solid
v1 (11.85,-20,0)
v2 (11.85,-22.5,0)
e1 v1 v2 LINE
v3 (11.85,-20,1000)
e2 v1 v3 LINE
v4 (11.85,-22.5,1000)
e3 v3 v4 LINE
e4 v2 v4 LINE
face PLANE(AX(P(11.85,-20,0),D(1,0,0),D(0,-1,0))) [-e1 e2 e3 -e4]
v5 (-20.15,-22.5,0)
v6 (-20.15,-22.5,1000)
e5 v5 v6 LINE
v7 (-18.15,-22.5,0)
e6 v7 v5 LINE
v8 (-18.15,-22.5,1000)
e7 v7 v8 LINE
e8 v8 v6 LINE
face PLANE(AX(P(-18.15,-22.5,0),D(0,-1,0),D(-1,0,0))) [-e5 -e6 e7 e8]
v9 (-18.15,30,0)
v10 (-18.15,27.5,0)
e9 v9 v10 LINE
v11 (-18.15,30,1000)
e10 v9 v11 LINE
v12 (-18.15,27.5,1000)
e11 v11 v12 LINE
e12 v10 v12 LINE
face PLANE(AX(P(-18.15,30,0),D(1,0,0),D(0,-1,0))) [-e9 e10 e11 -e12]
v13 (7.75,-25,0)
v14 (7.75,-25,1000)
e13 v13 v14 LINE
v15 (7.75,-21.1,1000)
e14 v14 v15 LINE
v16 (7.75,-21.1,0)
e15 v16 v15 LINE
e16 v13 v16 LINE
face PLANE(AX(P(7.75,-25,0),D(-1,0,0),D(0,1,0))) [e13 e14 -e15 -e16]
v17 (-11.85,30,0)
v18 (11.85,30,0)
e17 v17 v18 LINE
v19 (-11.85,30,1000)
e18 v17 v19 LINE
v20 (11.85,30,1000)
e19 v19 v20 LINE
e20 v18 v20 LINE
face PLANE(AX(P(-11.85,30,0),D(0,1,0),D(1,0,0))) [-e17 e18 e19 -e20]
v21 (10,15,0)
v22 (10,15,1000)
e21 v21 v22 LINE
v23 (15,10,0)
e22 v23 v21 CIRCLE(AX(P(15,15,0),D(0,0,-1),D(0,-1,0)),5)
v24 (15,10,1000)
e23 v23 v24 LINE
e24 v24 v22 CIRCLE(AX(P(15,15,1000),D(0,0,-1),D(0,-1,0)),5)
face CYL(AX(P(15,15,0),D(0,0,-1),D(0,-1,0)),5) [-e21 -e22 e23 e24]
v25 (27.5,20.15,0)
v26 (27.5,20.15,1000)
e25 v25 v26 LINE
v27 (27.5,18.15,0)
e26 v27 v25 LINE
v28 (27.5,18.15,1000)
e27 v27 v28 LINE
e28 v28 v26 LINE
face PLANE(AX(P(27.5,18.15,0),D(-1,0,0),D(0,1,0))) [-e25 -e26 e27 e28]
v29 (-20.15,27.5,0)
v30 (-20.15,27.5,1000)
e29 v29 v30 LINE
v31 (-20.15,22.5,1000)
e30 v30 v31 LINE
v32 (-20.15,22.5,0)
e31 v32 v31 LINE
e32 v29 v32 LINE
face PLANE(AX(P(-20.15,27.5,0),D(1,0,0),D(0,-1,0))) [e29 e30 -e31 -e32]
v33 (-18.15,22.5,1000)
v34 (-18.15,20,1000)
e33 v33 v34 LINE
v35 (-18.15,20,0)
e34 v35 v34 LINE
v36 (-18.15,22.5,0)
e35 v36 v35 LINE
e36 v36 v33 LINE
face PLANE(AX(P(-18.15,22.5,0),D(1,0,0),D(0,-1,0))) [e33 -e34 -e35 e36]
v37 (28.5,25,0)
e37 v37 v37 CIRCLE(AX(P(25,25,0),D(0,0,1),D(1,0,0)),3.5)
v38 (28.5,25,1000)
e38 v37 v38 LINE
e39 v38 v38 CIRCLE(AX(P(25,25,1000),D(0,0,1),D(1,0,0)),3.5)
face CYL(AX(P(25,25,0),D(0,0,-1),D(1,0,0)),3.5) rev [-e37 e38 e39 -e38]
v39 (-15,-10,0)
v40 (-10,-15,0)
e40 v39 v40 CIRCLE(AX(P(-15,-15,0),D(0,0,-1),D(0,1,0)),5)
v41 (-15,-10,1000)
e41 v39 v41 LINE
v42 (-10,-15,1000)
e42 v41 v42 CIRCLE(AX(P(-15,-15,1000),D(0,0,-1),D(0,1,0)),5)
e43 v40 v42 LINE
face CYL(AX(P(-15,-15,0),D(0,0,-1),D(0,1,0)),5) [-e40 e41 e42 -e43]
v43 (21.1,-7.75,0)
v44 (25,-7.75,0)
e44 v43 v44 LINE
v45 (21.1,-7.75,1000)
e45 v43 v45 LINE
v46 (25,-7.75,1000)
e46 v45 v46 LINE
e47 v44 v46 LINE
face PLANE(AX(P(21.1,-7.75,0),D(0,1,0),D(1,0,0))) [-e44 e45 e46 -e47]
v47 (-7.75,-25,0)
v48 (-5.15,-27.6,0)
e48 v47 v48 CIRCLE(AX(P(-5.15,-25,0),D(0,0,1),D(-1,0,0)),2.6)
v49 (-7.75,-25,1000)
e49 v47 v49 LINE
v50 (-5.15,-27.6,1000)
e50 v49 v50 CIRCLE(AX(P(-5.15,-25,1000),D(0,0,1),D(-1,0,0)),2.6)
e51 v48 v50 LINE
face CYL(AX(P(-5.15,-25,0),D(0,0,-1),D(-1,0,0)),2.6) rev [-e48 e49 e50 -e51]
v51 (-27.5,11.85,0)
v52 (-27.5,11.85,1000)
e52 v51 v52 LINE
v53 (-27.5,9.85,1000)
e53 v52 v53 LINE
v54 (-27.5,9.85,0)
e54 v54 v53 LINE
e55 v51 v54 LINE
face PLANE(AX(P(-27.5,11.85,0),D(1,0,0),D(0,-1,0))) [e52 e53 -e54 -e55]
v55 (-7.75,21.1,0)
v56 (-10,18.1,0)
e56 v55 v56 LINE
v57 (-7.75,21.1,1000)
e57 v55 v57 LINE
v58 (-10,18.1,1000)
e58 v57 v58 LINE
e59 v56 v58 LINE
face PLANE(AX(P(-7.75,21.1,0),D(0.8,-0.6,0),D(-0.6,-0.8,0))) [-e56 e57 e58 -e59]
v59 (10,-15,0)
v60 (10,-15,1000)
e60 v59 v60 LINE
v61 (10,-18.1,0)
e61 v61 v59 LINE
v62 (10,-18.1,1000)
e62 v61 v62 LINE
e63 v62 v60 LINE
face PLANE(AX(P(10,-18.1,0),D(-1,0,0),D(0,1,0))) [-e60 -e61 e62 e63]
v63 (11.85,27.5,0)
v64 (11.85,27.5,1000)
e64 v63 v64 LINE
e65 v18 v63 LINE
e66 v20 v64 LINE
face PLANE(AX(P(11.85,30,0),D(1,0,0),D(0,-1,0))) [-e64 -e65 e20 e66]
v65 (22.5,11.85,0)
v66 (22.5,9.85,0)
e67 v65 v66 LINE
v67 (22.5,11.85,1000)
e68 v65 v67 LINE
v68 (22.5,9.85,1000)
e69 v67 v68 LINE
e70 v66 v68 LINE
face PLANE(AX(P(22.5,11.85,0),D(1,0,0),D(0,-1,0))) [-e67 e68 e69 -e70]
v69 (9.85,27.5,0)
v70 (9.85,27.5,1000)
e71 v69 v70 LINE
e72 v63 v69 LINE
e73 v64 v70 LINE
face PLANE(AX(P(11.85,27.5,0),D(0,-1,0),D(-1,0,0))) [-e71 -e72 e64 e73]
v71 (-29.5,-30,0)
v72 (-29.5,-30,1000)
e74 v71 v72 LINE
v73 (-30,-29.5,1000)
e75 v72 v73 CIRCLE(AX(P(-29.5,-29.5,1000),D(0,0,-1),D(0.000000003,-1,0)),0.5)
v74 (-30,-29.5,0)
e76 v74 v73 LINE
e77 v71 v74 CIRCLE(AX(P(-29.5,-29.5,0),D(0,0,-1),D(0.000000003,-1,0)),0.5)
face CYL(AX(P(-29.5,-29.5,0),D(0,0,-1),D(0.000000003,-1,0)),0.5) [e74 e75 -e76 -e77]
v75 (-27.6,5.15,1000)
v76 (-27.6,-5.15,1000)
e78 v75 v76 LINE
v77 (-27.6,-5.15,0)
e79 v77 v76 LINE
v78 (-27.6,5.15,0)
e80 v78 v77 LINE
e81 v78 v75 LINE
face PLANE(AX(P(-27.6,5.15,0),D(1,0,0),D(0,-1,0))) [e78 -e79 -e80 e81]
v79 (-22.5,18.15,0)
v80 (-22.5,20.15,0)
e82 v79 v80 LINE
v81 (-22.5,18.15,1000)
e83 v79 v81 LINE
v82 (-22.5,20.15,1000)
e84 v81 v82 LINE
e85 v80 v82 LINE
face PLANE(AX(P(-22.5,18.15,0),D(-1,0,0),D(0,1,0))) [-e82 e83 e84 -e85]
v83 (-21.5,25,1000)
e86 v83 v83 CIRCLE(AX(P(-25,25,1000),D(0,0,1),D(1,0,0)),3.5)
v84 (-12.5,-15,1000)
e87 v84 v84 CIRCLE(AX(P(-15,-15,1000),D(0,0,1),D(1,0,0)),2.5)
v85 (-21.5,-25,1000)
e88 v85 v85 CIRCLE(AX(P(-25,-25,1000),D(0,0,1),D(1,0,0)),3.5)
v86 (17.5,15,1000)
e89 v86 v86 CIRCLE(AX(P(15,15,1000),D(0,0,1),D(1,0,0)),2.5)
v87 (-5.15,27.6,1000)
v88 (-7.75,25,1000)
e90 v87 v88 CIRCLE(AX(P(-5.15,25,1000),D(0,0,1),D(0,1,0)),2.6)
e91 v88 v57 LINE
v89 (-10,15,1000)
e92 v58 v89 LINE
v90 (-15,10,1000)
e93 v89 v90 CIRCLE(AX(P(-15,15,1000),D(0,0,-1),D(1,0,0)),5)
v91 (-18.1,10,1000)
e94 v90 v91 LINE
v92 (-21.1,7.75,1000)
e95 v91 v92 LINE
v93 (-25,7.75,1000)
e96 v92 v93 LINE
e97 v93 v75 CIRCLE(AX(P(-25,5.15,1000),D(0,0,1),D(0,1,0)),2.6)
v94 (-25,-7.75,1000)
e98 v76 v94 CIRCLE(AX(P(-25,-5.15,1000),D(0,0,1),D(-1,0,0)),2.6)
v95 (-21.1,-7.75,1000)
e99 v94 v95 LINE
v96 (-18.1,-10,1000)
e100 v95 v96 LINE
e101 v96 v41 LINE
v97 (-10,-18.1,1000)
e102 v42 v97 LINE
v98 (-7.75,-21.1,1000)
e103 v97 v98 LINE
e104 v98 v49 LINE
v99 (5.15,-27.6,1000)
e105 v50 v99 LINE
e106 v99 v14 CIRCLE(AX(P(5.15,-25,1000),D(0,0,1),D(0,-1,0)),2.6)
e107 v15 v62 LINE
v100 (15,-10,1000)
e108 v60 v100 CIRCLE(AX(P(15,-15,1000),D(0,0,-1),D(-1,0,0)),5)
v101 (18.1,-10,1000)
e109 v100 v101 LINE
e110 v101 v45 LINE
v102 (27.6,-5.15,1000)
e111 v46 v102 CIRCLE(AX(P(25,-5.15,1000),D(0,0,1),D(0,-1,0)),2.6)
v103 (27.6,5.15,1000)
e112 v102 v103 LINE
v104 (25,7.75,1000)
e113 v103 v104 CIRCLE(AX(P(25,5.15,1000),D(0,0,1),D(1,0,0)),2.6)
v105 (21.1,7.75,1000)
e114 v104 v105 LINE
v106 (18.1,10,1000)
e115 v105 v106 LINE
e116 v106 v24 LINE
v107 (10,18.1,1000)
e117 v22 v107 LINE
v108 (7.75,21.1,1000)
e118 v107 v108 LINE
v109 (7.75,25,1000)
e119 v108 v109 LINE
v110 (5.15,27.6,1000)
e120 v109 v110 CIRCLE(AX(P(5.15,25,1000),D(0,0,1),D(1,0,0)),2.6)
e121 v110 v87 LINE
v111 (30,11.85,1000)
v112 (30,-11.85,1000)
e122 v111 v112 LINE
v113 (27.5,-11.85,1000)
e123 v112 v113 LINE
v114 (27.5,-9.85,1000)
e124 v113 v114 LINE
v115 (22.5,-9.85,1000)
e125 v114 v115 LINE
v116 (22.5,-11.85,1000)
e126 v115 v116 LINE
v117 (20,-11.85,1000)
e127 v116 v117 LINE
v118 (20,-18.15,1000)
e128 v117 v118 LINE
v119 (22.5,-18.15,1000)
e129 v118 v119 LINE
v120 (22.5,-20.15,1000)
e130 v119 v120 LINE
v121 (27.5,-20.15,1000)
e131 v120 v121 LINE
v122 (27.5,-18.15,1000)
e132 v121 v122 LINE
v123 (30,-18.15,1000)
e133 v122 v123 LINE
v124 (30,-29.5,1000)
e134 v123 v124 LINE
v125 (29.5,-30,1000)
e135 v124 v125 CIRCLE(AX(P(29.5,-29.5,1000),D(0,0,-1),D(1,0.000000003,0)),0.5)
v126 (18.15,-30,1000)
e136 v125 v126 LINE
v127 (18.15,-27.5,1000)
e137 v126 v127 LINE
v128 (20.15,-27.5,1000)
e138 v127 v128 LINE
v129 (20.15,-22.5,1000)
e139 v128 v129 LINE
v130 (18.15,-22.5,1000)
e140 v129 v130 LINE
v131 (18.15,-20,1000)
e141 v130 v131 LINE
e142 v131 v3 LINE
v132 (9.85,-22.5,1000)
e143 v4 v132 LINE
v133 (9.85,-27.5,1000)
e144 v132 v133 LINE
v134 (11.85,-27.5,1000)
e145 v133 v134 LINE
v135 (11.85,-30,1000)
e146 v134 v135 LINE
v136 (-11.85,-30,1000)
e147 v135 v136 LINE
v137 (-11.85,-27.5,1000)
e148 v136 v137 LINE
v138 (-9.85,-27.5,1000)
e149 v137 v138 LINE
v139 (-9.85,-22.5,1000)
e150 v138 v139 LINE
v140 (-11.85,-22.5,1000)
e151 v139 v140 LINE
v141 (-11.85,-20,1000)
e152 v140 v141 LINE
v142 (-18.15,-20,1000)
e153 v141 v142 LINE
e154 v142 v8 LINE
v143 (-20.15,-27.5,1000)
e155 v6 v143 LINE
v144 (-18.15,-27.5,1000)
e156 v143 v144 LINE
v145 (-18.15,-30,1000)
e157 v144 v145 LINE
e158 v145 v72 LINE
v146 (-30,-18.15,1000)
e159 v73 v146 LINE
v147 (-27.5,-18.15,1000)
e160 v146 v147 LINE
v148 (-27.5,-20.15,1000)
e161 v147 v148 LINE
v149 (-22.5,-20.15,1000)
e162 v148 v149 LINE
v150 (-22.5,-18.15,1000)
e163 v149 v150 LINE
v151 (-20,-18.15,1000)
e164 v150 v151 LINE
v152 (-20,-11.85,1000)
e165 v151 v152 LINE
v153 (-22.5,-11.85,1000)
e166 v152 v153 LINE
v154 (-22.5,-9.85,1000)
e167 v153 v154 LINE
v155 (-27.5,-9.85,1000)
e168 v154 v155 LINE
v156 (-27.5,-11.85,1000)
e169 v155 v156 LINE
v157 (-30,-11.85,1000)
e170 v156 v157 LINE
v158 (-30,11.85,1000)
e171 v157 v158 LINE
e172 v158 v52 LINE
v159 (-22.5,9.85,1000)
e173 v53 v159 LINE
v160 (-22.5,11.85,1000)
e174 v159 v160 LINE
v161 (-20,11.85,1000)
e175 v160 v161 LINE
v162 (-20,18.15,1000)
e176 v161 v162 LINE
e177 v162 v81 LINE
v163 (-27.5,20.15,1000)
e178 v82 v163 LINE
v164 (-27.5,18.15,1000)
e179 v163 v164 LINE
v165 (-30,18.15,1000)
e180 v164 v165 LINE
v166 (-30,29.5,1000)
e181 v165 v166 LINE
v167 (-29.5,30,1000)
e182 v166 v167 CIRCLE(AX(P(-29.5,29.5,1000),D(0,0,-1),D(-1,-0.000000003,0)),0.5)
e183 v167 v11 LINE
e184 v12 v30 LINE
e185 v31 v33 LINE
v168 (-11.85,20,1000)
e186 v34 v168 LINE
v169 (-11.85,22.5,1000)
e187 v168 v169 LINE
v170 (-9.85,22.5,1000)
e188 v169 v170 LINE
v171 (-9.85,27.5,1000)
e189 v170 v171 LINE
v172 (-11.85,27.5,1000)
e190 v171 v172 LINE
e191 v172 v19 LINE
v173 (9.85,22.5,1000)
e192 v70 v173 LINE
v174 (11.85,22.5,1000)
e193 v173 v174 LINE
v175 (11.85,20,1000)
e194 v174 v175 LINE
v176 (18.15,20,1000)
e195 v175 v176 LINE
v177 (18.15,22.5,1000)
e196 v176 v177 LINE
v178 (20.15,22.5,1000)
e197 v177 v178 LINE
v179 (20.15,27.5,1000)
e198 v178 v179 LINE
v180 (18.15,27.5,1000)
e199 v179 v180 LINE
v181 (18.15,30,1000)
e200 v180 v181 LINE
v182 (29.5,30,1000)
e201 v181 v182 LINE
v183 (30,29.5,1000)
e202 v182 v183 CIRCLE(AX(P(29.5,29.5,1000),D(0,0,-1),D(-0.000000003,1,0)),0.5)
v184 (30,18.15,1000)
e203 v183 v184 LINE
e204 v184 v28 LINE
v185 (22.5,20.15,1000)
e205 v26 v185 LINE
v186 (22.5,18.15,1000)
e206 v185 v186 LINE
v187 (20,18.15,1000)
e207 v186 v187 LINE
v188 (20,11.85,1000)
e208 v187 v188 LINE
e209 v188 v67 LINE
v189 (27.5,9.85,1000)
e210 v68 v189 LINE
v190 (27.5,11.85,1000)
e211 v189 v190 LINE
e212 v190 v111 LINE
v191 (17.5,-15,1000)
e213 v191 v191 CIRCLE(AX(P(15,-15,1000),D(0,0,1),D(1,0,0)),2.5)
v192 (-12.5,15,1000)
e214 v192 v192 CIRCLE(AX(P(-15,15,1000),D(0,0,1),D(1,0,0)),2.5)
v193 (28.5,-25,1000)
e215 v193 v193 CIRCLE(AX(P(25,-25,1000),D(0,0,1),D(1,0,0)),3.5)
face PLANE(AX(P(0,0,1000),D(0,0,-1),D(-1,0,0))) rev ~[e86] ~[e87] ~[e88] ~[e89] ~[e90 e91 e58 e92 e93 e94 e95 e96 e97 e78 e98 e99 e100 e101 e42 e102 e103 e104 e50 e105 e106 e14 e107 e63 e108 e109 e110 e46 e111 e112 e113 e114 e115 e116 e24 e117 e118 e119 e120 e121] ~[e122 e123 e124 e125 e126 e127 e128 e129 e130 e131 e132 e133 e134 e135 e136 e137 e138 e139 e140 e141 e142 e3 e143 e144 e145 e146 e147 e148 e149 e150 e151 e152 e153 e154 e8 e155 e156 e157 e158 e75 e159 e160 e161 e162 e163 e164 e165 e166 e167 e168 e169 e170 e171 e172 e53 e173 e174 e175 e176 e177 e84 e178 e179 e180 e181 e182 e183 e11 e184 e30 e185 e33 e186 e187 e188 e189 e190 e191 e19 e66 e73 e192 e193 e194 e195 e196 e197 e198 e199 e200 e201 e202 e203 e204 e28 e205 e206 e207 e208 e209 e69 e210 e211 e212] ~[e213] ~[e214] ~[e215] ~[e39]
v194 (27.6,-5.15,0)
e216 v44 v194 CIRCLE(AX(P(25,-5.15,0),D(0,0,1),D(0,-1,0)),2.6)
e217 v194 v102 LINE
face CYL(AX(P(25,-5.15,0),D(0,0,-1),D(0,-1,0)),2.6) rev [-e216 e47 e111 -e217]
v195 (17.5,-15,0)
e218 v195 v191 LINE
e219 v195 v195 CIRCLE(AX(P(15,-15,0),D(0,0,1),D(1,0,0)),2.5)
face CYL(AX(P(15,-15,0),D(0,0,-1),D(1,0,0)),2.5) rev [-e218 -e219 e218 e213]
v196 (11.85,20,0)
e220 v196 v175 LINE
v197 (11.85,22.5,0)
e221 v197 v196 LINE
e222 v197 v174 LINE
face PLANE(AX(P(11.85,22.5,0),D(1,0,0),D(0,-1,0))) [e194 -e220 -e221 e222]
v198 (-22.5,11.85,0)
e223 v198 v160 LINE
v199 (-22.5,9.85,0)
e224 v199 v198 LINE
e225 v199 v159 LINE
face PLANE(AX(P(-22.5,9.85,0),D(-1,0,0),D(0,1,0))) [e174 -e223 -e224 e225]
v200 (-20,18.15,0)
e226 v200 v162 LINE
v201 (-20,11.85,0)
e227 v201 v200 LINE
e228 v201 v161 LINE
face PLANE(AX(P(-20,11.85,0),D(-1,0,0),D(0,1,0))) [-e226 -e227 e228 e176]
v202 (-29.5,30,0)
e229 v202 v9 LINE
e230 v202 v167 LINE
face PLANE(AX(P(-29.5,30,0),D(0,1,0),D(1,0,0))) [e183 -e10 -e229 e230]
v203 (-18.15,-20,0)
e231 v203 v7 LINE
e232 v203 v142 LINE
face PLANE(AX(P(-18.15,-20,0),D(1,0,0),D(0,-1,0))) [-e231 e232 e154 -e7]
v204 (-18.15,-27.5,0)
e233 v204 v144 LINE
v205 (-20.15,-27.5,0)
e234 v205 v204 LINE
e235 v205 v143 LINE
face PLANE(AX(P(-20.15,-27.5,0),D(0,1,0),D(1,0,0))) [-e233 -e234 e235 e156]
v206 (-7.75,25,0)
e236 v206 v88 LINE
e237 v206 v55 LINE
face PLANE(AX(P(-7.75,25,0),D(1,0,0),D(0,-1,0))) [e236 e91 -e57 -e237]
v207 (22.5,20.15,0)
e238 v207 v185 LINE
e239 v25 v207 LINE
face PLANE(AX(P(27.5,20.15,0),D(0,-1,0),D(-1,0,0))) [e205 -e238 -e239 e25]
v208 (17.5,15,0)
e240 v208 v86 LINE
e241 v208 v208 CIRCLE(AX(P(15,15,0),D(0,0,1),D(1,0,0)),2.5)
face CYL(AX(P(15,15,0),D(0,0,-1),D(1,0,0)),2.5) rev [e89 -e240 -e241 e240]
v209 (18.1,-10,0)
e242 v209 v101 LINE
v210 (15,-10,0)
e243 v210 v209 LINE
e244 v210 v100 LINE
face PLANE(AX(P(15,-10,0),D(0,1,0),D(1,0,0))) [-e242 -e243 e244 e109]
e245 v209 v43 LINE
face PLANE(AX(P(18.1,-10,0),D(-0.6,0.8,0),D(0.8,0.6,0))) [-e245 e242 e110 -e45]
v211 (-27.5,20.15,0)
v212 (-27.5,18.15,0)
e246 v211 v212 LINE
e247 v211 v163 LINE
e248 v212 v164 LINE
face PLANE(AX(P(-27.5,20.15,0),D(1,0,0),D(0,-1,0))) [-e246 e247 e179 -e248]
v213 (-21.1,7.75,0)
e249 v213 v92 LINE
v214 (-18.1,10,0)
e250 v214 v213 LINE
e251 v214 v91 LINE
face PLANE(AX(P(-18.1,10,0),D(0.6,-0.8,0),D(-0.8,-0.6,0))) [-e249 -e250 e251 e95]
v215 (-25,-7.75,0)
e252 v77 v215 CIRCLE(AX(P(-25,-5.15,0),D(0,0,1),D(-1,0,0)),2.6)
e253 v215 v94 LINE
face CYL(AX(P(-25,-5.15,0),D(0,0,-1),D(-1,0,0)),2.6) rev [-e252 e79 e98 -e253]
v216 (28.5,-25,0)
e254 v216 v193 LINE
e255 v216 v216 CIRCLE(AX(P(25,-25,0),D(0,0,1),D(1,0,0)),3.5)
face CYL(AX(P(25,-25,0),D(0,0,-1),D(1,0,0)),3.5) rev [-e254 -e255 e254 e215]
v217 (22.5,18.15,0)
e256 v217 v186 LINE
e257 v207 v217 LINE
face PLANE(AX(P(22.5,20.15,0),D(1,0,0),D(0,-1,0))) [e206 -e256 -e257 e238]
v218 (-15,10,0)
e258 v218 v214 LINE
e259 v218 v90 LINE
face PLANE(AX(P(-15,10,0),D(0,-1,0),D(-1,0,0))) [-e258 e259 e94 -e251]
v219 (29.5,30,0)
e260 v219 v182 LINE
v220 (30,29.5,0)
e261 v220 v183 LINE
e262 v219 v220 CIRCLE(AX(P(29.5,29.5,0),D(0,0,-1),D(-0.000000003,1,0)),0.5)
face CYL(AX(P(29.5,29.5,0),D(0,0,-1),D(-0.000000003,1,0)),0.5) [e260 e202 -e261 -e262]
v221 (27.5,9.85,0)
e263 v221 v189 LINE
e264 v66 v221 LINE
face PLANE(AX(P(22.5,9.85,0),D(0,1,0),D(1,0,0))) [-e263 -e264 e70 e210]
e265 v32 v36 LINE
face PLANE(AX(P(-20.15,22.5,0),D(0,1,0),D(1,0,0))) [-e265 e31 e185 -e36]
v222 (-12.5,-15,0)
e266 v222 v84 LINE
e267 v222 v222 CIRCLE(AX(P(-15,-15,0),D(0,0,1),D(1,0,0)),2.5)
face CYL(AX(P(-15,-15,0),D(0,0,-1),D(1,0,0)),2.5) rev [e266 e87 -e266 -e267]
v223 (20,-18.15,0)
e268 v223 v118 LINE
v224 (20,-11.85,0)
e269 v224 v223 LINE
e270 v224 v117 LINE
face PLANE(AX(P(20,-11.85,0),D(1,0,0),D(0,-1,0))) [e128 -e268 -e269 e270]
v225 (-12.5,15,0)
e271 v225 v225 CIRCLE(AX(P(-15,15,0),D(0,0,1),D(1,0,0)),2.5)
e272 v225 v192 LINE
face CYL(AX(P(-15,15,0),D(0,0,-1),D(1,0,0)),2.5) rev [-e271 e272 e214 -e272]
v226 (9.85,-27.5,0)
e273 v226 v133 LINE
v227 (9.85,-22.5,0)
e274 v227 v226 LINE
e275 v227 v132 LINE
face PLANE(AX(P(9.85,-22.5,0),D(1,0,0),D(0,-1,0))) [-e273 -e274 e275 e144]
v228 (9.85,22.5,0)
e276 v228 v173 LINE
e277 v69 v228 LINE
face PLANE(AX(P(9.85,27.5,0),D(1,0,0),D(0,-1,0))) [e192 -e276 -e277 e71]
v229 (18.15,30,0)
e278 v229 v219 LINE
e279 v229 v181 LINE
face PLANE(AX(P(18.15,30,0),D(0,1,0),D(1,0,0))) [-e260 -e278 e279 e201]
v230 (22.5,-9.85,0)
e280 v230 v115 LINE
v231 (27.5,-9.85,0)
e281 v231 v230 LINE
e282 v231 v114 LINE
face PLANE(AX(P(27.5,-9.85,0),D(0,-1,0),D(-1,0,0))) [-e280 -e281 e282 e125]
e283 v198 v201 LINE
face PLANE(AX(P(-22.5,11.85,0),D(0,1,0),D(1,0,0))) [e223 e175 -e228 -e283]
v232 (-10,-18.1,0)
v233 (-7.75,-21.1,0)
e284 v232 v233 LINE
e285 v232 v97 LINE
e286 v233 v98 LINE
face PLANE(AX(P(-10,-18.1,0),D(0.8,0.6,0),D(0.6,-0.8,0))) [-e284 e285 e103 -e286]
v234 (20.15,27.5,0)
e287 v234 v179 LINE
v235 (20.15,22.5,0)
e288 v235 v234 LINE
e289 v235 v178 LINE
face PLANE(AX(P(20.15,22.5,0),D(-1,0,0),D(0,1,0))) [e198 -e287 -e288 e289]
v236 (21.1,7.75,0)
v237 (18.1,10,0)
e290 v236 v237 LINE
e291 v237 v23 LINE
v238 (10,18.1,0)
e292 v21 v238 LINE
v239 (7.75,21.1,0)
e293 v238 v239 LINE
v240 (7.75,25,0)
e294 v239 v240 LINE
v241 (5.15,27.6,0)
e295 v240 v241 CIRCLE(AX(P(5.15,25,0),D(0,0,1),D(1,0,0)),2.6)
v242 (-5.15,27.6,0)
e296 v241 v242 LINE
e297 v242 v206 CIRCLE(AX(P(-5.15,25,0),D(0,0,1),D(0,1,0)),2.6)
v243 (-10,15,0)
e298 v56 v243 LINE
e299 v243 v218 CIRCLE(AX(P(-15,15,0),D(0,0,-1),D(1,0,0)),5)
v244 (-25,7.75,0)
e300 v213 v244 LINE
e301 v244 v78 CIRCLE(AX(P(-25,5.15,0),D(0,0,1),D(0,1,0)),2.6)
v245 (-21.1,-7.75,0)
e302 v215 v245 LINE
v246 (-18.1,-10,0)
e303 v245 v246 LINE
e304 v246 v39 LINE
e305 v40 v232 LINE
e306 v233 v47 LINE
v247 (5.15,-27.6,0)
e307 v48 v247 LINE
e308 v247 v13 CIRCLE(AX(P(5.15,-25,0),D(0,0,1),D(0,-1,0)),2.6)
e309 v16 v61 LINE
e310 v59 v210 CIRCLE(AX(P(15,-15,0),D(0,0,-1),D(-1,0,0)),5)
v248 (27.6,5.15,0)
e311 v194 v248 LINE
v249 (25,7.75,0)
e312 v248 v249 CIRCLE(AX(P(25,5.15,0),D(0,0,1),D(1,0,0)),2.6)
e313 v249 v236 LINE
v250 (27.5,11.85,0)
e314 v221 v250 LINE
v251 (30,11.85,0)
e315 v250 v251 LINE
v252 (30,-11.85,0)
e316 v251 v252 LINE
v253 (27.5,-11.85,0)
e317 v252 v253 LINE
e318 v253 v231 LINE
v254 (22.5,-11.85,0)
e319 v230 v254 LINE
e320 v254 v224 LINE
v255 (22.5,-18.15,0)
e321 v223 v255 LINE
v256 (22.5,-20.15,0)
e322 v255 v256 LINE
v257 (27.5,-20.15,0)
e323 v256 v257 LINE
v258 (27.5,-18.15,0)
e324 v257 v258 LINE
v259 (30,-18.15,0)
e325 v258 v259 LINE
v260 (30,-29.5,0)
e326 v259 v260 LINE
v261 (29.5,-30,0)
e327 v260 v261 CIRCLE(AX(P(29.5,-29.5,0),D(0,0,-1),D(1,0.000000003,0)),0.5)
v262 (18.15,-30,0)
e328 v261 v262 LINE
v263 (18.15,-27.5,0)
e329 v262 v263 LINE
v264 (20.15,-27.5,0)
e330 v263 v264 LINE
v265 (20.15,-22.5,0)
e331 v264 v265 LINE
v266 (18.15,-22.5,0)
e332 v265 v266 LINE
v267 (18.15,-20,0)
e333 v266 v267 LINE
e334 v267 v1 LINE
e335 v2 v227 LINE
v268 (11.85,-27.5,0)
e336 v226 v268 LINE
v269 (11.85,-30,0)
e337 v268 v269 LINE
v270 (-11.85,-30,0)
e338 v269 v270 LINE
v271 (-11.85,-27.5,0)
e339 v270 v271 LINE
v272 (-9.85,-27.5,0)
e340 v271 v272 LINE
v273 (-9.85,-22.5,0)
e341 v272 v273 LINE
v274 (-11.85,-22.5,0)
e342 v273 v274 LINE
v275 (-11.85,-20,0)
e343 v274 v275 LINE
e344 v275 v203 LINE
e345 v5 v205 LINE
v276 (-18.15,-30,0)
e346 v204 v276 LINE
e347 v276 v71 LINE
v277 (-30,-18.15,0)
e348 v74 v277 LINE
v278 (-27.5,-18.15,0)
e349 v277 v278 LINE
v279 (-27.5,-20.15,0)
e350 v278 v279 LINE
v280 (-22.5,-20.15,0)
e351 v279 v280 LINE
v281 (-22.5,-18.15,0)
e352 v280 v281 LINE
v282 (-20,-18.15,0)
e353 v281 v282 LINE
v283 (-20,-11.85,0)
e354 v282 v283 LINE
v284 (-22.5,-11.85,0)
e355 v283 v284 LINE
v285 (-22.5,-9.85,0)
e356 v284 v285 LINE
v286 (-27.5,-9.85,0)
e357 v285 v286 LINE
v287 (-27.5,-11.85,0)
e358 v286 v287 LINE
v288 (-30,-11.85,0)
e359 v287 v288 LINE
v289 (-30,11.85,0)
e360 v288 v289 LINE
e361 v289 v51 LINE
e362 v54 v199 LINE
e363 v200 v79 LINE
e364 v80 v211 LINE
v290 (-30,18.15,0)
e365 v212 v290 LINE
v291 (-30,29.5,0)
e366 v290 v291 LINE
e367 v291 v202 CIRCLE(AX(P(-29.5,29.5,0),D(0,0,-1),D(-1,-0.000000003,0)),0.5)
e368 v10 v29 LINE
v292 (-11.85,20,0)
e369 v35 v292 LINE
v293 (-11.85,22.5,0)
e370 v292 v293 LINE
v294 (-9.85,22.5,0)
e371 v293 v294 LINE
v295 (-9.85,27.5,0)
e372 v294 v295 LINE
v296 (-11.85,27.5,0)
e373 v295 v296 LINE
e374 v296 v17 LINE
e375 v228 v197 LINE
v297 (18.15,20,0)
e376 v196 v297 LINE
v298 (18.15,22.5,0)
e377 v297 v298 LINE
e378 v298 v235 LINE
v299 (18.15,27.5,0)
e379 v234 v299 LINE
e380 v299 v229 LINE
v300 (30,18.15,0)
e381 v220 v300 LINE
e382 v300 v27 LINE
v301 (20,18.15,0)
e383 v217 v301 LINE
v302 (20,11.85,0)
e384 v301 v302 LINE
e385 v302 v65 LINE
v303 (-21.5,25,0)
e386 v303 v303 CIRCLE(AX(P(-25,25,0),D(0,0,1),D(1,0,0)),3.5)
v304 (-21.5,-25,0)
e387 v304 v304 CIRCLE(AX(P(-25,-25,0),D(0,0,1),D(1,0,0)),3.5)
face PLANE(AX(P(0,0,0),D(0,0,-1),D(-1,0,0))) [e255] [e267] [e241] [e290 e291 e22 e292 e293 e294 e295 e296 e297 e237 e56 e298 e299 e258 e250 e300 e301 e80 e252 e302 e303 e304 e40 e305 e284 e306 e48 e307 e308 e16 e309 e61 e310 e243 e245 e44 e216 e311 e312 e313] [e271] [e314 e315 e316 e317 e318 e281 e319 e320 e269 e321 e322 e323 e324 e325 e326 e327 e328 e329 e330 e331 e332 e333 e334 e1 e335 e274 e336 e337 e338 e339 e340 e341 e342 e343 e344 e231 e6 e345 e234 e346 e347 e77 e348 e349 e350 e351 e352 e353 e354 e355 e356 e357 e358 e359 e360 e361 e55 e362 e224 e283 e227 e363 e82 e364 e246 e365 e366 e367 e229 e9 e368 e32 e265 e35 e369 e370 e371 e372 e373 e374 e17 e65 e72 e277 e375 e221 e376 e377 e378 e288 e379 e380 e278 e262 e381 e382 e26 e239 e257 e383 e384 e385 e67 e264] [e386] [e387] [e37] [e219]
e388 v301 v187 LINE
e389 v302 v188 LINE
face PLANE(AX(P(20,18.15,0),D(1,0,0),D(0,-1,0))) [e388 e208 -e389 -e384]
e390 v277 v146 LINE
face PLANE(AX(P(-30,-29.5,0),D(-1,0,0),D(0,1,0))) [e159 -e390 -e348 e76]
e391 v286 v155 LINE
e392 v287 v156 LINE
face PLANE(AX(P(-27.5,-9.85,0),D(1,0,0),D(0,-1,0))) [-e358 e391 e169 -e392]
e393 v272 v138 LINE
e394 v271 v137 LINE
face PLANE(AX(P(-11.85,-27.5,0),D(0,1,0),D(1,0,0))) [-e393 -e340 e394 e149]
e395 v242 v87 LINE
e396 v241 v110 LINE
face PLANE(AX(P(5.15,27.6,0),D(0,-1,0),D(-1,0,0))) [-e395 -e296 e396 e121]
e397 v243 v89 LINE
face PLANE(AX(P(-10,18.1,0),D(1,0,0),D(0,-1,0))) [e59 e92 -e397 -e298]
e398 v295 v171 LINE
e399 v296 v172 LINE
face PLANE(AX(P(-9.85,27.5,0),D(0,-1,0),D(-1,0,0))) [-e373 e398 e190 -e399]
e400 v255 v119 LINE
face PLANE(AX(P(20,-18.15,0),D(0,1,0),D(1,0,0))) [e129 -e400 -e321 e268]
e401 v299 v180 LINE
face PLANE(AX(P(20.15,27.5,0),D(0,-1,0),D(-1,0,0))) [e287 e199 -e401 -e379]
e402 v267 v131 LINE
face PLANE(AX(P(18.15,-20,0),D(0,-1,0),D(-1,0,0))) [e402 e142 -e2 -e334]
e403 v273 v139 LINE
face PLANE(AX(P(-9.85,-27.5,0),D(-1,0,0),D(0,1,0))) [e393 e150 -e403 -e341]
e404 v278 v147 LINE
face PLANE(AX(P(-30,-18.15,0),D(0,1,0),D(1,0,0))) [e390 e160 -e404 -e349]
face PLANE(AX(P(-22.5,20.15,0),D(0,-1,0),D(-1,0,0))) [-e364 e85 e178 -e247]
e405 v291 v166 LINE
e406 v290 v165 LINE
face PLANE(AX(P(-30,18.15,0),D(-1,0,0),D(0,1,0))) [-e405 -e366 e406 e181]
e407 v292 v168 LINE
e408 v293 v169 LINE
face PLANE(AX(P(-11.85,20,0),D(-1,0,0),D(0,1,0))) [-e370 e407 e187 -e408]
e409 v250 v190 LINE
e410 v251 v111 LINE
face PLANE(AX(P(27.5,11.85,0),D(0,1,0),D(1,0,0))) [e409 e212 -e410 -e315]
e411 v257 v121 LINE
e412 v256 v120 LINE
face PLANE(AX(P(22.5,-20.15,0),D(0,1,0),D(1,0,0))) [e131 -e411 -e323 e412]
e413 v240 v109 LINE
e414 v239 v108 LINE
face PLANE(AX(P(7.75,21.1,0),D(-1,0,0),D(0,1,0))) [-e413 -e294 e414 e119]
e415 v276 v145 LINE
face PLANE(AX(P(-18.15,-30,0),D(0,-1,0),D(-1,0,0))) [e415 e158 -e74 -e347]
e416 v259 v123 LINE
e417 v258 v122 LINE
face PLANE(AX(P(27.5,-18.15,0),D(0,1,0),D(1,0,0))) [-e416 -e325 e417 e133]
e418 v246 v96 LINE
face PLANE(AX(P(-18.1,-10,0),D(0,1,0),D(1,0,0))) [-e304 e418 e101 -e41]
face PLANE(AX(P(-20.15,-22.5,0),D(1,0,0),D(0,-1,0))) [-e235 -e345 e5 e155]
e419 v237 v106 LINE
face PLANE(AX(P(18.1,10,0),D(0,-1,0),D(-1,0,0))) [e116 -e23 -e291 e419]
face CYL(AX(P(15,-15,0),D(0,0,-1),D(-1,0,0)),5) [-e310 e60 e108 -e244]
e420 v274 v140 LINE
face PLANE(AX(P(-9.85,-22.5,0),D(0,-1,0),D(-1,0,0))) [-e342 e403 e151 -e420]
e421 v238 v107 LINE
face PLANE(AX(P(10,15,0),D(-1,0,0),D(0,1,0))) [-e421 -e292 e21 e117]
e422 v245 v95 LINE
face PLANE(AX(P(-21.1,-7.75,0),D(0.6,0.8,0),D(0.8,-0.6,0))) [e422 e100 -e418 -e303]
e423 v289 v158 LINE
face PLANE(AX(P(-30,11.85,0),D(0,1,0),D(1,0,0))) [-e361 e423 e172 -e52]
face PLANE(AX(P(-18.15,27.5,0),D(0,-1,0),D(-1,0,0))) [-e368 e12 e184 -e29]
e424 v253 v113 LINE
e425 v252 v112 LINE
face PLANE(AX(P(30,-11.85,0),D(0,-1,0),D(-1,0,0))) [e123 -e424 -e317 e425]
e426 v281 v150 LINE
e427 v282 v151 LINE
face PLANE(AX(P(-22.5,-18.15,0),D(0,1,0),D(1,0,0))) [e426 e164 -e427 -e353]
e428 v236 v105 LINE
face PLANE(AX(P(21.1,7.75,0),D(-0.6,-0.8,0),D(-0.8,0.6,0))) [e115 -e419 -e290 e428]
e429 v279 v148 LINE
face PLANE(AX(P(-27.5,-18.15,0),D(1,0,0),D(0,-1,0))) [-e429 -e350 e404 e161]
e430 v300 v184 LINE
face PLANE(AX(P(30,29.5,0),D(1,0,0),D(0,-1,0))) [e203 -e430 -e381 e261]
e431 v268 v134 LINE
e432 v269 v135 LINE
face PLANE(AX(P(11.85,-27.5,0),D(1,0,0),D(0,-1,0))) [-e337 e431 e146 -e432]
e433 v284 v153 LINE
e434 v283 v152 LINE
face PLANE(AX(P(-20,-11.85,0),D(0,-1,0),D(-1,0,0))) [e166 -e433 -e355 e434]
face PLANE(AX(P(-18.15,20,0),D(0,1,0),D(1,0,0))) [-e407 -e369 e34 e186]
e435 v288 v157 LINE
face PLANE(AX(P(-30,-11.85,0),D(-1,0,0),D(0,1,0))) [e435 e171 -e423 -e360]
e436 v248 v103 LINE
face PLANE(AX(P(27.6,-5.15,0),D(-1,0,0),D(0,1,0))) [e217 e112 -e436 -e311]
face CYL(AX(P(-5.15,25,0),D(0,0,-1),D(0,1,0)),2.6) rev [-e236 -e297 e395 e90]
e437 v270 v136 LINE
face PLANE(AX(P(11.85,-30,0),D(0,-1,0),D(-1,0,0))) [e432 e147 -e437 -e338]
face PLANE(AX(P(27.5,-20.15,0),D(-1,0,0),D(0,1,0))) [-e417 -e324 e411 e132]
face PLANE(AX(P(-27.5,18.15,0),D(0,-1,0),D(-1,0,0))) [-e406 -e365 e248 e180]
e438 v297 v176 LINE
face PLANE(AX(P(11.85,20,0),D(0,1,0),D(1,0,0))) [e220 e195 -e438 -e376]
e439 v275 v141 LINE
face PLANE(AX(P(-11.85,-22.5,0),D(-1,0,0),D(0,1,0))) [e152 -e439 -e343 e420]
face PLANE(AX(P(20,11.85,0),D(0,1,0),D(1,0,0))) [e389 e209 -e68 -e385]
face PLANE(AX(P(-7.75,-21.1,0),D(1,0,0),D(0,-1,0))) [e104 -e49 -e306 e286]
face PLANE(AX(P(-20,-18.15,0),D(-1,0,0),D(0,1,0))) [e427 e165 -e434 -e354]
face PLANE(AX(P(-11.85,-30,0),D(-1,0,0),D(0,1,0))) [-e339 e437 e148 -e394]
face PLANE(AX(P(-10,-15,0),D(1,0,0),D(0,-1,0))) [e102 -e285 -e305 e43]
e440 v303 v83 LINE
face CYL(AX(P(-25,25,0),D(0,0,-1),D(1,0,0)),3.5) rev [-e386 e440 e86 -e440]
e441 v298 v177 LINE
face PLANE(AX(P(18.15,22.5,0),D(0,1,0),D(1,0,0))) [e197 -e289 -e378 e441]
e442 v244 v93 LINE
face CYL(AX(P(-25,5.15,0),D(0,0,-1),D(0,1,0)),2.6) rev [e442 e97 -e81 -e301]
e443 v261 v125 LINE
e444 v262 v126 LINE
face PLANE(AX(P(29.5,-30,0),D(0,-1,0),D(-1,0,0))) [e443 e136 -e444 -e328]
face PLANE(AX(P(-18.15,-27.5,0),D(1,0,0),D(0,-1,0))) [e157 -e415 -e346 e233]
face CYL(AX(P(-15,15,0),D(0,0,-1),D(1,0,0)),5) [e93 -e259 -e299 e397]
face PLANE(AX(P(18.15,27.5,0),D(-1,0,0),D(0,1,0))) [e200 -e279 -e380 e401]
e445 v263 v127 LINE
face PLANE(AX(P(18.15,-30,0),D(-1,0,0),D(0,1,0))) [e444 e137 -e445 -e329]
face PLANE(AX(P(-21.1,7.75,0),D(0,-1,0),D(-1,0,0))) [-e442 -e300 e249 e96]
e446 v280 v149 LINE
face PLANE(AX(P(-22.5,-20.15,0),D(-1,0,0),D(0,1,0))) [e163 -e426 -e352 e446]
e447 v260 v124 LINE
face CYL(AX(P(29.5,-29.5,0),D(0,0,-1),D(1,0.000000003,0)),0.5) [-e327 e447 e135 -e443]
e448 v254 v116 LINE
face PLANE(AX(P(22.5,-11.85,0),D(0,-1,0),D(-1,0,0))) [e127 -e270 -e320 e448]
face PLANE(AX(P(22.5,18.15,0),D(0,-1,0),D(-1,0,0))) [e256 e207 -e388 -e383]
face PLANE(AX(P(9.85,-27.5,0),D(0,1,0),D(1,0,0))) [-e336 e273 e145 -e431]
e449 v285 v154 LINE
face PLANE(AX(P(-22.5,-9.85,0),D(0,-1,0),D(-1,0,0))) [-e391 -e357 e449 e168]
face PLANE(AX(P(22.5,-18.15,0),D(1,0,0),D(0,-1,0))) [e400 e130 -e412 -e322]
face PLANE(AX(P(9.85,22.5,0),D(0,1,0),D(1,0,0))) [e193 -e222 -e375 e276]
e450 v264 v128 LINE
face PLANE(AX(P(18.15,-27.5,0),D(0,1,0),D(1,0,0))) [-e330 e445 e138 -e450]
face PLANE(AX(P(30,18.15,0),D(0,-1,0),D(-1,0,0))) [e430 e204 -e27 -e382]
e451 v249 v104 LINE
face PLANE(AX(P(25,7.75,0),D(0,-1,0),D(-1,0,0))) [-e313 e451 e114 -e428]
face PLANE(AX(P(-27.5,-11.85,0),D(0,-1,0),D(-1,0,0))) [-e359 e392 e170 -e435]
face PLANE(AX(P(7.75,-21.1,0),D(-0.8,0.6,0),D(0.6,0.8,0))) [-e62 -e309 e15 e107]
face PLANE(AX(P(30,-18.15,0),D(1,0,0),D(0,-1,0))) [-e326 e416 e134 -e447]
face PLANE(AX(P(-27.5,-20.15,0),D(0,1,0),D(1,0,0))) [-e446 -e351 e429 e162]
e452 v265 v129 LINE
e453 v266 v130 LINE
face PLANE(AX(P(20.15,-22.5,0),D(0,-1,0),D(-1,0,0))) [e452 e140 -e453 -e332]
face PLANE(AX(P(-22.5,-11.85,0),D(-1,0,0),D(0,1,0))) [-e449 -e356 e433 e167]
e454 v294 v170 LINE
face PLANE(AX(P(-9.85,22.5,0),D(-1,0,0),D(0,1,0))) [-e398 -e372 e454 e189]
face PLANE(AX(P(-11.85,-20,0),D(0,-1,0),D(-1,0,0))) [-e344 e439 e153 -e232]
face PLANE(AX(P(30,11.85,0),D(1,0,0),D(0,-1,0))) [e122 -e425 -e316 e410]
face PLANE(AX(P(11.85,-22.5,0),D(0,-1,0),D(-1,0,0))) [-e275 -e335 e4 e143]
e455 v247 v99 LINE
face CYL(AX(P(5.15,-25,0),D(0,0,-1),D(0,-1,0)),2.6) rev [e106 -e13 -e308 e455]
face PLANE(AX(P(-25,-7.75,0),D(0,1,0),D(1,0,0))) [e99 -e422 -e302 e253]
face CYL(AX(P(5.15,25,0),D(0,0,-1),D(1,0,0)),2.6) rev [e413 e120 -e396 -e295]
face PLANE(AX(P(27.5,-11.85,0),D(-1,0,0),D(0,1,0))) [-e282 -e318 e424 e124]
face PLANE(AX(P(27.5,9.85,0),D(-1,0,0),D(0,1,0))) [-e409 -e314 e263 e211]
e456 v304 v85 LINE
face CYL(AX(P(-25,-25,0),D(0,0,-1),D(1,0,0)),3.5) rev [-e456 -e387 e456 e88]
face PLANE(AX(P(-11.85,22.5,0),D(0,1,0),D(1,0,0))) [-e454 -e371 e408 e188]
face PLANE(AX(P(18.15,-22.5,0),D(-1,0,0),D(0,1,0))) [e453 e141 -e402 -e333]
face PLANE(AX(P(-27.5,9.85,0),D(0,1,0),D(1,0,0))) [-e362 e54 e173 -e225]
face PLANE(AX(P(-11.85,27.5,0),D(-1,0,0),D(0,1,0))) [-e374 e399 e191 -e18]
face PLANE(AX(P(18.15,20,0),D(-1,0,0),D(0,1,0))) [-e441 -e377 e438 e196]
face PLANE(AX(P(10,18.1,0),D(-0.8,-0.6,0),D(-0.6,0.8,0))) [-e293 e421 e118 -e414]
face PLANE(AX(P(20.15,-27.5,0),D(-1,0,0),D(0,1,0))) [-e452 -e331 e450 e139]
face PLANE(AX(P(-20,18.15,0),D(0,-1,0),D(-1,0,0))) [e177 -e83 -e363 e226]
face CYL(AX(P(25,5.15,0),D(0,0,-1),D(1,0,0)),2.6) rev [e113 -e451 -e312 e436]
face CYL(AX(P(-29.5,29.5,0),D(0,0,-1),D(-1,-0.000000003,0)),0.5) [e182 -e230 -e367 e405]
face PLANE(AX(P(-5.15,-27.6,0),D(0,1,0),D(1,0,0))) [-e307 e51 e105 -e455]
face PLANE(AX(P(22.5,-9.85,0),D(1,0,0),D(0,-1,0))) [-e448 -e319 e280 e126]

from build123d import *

# Parameters (mm, degrees)
SKETCH_1_R      = 3.5
SKETCH_1_R_2    = 2.5
EXTRUDE_1_DEPTH = 1000


with BuildPart() as part:
    # Эскиз1 → Бобышка-Вытянуть1 (new body)
    with BuildSketch(Plane.XY):
        with BuildLine():
            Line((-30, 20.15), (-30, 29.5))
            ThreePointArc((-30, 29.5), (-29.853553391, 29.853553391), (-29.5, 30))
            Line((-29.5, 30), (-20.15, 30))
            Line((-20.15, 30), (-18.15, 30))
            Line((-18.15, 30), (-18.15, 27.5))
            Line((-18.15, 27.5), (-20.15, 27.5))
            Line((-20.15, 27.5), (-20.15, 22.5))
            Line((-20.15, 22.5), (-18.15, 22.5))
            Line((-18.15, 22.5), (-18.15, 20))
            Line((-18.15, 20), (-11.85, 20))
            Line((-11.85, 20), (-11.85, 22.5))
            Line((-11.85, 22.5), (-9.85, 22.5))
            Line((-9.85, 22.5), (-9.85, 27.5))
            Line((-9.85, 27.5), (-11.85, 27.5))
            Line((-11.85, 27.5), (-11.85, 30))
            Line((-11.85, 30), (-9.85, 30))
            Line((-9.85, 30), (0, 30))
            Line((0, 30), (9.85, 30))
            Line((9.85, 30), (11.85, 30))
            Line((11.85, 30), (11.85, 27.5))
            Line((11.85, 27.5), (9.85, 27.5))
            Line((9.85, 27.5), (9.85, 22.5))
            Line((9.85, 22.5), (11.85, 22.5))
            Line((11.85, 22.5), (11.85, 20))
            Line((11.85, 20), (18.15, 20))
            Line((18.15, 20), (18.15, 22.5))
            Line((18.15, 22.5), (20.15, 22.5))
            Line((20.15, 22.5), (20.15, 27.5))
            Line((20.15, 27.5), (18.15, 27.5))
            Line((18.15, 27.5), (18.15, 30))
            Line((18.15, 30), (20.15, 30))
            Line((20.15, 30), (29.5, 30))
            ThreePointArc((29.5, 30), (29.853553391, 29.853553391), (30, 29.5))
            Line((30, 29.5), (30, 20.15))
            Line((30, 20.15), (30, 18.15))
            Line((30, 18.15), (27.5, 18.15))
            Line((27.5, 18.15), (27.5, 20.15))
            Line((27.5, 20.15), (22.5, 20.15))
            Line((22.5, 20.15), (22.5, 18.15))
            Line((22.5, 18.15), (20, 18.15))
            Line((20, 18.15), (20, 11.85))
            Line((20, 11.85), (22.5, 11.85))
            Line((22.5, 11.85), (22.5, 9.85))
            Line((22.5, 9.85), (27.5, 9.85))
            Line((27.5, 9.85), (27.5, 11.85))
            Line((27.5, 11.85), (30, 11.85))
            Line((30, 11.85), (30, 9.85))
            Line((30, 9.85), (30, 0))
            Line((30, 0), (30, -9.85))
            Line((30, -9.85), (30, -11.85))
            Line((30, -11.85), (27.5, -11.85))
            Line((27.5, -11.85), (27.5, -9.85))
            Line((27.5, -9.85), (22.5, -9.85))
            Line((22.5, -9.85), (22.5, -11.85))
            Line((22.5, -11.85), (20, -11.85))
            Line((20, -11.85), (20, -18.15))
            Line((20, -18.15), (22.5, -18.15))
            Line((22.5, -18.15), (22.5, -20.15))
            Line((22.5, -20.15), (27.5, -20.15))
            Line((27.5, -20.15), (27.5, -18.15))
            Line((27.5, -18.15), (30, -18.15))
            Line((30, -18.15), (30, -20.15))
            Line((30, -20.15), (30, -29.5))
            ThreePointArc((30, -29.5), (29.853553391, -29.853553391), (29.5, -30))
            Line((29.5, -30), (20.15, -30))
            Line((20.15, -30), (18.15, -30))
            Line((18.15, -30), (18.15, -27.5))
            Line((18.15, -27.5), (20.15, -27.5))
            Line((20.15, -27.5), (20.15, -22.5))
            Line((20.15, -22.5), (18.15, -22.5))
            Line((18.15, -22.5), (18.15, -20))
            Line((18.15, -20), (11.85, -20))
            Line((11.85, -20), (11.85, -22.5))
            Line((11.85, -22.5), (9.85, -22.5))
            Line((9.85, -22.5), (9.85, -27.5))
            Line((9.85, -27.5), (11.85, -27.5))
            Line((11.85, -27.5), (11.85, -30))
            Line((11.85, -30), (9.85, -30))
            Line((9.85, -30), (0, -30))
            Line((0, -30), (-9.85, -30))
            Line((-9.85, -30), (-11.85, -30))
            Line((-11.85, -30), (-11.85, -27.5))
            Line((-11.85, -27.5), (-9.85, -27.5))
            Line((-9.85, -27.5), (-9.85, -22.5))
            Line((-9.85, -22.5), (-11.85, -22.5))
            Line((-11.85, -22.5), (-11.85, -20))
            Line((-11.85, -20), (-18.15, -20))
            Line((-18.15, -20), (-18.15, -22.5))
            Line((-18.15, -22.5), (-20.15, -22.5))
            Line((-20.15, -22.5), (-20.15, -27.5))
            Line((-20.15, -27.5), (-18.15, -27.5))
            Line((-18.15, -27.5), (-18.15, -30))
            Line((-18.15, -30), (-20.15, -30))
            Line((-20.15, -30), (-29.5, -30))
            ThreePointArc((-29.5, -30), (-29.853553391, -29.853553391), (-30, -29.5))
            Line((-30, -29.5), (-30, -20.15))
            Line((-30, -20.15), (-30, -18.15))
            Line((-30, -18.15), (-27.5, -18.15))
            Line((-27.5, -18.15), (-27.5, -20.15))
            Line((-27.5, -20.15), (-22.5, -20.15))
            Line((-22.5, -20.15), (-22.5, -18.15))
            Line((-22.5, -18.15), (-20, -18.15))
            Line((-20, -18.15), (-20, -11.85))
            Line((-20, -11.85), (-22.5, -11.85))
            Line((-22.5, -11.85), (-22.5, -9.85))
            Line((-22.5, -9.85), (-27.5, -9.85))
            Line((-27.5, -9.85), (-27.5, -11.85))
            Line((-27.5, -11.85), (-30, -11.85))
            Line((-30, -11.85), (-30, -9.85))
            Line((-30, -9.85), (-30, 0))
            Line((-30, 0), (-30, 9.85))
            Line((-30, 9.85), (-30, 11.85))
            Line((-30, 11.85), (-27.5, 11.85))
            Line((-27.5, 11.85), (-27.5, 9.85))
            Line((-27.5, 9.85), (-22.5, 9.85))
            Line((-22.5, 9.85), (-22.5, 11.85))
            Line((-22.5, 11.85), (-20, 11.85))
            Line((-20, 11.85), (-20, 18.15))
            Line((-20, 18.15), (-22.5, 18.15))
            Line((-22.5, 18.15), (-22.5, 20.15))
            Line((-22.5, 20.15), (-27.5, 20.15))
            Line((-27.5, 20.15), (-27.5, 18.15))
            Line((-27.5, 18.15), (-30, 18.15))
            Line((-30, 18.15), (-30, 20.15))
        make_face()
        with Locations((-25, 25)):
            Circle(SKETCH_1_R, mode=Mode.SUBTRACT)
        with Locations((-15, 15)):
            Circle(SKETCH_1_R_2, mode=Mode.SUBTRACT)
        with Locations((25, 25)):
            Circle(SKETCH_1_R, mode=Mode.SUBTRACT)
        with Locations((15, 15)):
            Circle(SKETCH_1_R_2, mode=Mode.SUBTRACT)
        with Locations((25, -25)):
            Circle(SKETCH_1_R, mode=Mode.SUBTRACT)
        with Locations((15, -15)):
            Circle(SKETCH_1_R_2, mode=Mode.SUBTRACT)
        with Locations((-25, -25)):
            Circle(SKETCH_1_R, mode=Mode.SUBTRACT)
        with Locations((-15, -15)):
            Circle(SKETCH_1_R_2, mode=Mode.SUBTRACT)
        with BuildLine():
            Line((0, 27.6), (-5.15, 27.6))
            ThreePointArc((-5.15, 27.6), (-6.988477631, 26.838477631), (-7.75, 25))
            Line((-7.75, 25), (-7.75, 21.1))
            Line((-7.75, 21.1), (-10, 18.1))
            Line((-10, 18.1), (-10, 15))
            ThreePointArc((-10, 15), (-11.464466094, 11.464466094), (-15, 10))
            Line((-15, 10), (-18.1, 10))
            Line((-18.1, 10), (-21.1, 7.75))
            Line((-21.1, 7.75), (-25, 7.75))
            ThreePointArc((-25, 7.75), (-26.838477631, 6.988477631), (-27.6, 5.15))
            Line((-27.6, 5.15), (-27.6, 0))
            Line((-27.6, 0), (-27.6, -5.15))
            ThreePointArc((-27.6, -5.15), (-26.838477631, -6.988477631), (-25, -7.75))
            Line((-25, -7.75), (-21.1, -7.75))
            Line((-21.1, -7.75), (-18.1, -10))
            Line((-18.1, -10), (-15, -10))
            ThreePointArc((-15, -10), (-11.464466094, -11.464466094), (-10, -15))
            Line((-10, -15), (-10, -18.1))
            Line((-10, -18.1), (-7.75, -21.1))
            Line((-7.75, -21.1), (-7.75, -25))
            ThreePointArc((-7.75, -25), (-6.988477631, -26.838477631), (-5.15, -27.6))
            Line((-5.15, -27.6), (0, -27.6))
            Line((0, -27.6), (5.15, -27.6))
            ThreePointArc((5.15, -27.6), (6.988477631, -26.838477631), (7.75, -25))
            Line((7.75, -25), (7.75, -21.1))
            Line((7.75, -21.1), (10, -18.1))
            Line((10, -18.1), (10, -15))
            ThreePointArc((10, -15), (11.464466094, -11.464466094), (15, -10))
            Line((15, -10), (18.1, -10))
            Line((18.1, -10), (21.1, -7.75))
            Line((21.1, -7.75), (25, -7.75))
            ThreePointArc((25, -7.75), (26.838477631, -6.988477631), (27.6, -5.15))
            Line((27.6, -5.15), (27.6, 0))
            Line((27.6, 0), (27.6, 5.15))
            ThreePointArc((27.6, 5.15), (26.838477631, 6.988477631), (25, 7.75))
            Line((25, 7.75), (21.1, 7.75))
            Line((21.1, 7.75), (18.1, 10))
            Line((18.1, 10), (15, 10))
            ThreePointArc((15, 10), (11.464466094, 11.464466094), (10, 15))
            Line((10, 15), (10, 18.1))
            Line((10, 18.1), (7.75, 21.1))
            Line((7.75, 21.1), (7.75, 25))
            ThreePointArc((7.75, 25), (6.988477631, 26.838477631), (5.15, 27.6))
            Line((5.15, 27.6), (0, 27.6))
        make_face(mode=Mode.SUBTRACT)
    extrude(amount=EXTRUDE_1_DEPTH)


solid = part.part
